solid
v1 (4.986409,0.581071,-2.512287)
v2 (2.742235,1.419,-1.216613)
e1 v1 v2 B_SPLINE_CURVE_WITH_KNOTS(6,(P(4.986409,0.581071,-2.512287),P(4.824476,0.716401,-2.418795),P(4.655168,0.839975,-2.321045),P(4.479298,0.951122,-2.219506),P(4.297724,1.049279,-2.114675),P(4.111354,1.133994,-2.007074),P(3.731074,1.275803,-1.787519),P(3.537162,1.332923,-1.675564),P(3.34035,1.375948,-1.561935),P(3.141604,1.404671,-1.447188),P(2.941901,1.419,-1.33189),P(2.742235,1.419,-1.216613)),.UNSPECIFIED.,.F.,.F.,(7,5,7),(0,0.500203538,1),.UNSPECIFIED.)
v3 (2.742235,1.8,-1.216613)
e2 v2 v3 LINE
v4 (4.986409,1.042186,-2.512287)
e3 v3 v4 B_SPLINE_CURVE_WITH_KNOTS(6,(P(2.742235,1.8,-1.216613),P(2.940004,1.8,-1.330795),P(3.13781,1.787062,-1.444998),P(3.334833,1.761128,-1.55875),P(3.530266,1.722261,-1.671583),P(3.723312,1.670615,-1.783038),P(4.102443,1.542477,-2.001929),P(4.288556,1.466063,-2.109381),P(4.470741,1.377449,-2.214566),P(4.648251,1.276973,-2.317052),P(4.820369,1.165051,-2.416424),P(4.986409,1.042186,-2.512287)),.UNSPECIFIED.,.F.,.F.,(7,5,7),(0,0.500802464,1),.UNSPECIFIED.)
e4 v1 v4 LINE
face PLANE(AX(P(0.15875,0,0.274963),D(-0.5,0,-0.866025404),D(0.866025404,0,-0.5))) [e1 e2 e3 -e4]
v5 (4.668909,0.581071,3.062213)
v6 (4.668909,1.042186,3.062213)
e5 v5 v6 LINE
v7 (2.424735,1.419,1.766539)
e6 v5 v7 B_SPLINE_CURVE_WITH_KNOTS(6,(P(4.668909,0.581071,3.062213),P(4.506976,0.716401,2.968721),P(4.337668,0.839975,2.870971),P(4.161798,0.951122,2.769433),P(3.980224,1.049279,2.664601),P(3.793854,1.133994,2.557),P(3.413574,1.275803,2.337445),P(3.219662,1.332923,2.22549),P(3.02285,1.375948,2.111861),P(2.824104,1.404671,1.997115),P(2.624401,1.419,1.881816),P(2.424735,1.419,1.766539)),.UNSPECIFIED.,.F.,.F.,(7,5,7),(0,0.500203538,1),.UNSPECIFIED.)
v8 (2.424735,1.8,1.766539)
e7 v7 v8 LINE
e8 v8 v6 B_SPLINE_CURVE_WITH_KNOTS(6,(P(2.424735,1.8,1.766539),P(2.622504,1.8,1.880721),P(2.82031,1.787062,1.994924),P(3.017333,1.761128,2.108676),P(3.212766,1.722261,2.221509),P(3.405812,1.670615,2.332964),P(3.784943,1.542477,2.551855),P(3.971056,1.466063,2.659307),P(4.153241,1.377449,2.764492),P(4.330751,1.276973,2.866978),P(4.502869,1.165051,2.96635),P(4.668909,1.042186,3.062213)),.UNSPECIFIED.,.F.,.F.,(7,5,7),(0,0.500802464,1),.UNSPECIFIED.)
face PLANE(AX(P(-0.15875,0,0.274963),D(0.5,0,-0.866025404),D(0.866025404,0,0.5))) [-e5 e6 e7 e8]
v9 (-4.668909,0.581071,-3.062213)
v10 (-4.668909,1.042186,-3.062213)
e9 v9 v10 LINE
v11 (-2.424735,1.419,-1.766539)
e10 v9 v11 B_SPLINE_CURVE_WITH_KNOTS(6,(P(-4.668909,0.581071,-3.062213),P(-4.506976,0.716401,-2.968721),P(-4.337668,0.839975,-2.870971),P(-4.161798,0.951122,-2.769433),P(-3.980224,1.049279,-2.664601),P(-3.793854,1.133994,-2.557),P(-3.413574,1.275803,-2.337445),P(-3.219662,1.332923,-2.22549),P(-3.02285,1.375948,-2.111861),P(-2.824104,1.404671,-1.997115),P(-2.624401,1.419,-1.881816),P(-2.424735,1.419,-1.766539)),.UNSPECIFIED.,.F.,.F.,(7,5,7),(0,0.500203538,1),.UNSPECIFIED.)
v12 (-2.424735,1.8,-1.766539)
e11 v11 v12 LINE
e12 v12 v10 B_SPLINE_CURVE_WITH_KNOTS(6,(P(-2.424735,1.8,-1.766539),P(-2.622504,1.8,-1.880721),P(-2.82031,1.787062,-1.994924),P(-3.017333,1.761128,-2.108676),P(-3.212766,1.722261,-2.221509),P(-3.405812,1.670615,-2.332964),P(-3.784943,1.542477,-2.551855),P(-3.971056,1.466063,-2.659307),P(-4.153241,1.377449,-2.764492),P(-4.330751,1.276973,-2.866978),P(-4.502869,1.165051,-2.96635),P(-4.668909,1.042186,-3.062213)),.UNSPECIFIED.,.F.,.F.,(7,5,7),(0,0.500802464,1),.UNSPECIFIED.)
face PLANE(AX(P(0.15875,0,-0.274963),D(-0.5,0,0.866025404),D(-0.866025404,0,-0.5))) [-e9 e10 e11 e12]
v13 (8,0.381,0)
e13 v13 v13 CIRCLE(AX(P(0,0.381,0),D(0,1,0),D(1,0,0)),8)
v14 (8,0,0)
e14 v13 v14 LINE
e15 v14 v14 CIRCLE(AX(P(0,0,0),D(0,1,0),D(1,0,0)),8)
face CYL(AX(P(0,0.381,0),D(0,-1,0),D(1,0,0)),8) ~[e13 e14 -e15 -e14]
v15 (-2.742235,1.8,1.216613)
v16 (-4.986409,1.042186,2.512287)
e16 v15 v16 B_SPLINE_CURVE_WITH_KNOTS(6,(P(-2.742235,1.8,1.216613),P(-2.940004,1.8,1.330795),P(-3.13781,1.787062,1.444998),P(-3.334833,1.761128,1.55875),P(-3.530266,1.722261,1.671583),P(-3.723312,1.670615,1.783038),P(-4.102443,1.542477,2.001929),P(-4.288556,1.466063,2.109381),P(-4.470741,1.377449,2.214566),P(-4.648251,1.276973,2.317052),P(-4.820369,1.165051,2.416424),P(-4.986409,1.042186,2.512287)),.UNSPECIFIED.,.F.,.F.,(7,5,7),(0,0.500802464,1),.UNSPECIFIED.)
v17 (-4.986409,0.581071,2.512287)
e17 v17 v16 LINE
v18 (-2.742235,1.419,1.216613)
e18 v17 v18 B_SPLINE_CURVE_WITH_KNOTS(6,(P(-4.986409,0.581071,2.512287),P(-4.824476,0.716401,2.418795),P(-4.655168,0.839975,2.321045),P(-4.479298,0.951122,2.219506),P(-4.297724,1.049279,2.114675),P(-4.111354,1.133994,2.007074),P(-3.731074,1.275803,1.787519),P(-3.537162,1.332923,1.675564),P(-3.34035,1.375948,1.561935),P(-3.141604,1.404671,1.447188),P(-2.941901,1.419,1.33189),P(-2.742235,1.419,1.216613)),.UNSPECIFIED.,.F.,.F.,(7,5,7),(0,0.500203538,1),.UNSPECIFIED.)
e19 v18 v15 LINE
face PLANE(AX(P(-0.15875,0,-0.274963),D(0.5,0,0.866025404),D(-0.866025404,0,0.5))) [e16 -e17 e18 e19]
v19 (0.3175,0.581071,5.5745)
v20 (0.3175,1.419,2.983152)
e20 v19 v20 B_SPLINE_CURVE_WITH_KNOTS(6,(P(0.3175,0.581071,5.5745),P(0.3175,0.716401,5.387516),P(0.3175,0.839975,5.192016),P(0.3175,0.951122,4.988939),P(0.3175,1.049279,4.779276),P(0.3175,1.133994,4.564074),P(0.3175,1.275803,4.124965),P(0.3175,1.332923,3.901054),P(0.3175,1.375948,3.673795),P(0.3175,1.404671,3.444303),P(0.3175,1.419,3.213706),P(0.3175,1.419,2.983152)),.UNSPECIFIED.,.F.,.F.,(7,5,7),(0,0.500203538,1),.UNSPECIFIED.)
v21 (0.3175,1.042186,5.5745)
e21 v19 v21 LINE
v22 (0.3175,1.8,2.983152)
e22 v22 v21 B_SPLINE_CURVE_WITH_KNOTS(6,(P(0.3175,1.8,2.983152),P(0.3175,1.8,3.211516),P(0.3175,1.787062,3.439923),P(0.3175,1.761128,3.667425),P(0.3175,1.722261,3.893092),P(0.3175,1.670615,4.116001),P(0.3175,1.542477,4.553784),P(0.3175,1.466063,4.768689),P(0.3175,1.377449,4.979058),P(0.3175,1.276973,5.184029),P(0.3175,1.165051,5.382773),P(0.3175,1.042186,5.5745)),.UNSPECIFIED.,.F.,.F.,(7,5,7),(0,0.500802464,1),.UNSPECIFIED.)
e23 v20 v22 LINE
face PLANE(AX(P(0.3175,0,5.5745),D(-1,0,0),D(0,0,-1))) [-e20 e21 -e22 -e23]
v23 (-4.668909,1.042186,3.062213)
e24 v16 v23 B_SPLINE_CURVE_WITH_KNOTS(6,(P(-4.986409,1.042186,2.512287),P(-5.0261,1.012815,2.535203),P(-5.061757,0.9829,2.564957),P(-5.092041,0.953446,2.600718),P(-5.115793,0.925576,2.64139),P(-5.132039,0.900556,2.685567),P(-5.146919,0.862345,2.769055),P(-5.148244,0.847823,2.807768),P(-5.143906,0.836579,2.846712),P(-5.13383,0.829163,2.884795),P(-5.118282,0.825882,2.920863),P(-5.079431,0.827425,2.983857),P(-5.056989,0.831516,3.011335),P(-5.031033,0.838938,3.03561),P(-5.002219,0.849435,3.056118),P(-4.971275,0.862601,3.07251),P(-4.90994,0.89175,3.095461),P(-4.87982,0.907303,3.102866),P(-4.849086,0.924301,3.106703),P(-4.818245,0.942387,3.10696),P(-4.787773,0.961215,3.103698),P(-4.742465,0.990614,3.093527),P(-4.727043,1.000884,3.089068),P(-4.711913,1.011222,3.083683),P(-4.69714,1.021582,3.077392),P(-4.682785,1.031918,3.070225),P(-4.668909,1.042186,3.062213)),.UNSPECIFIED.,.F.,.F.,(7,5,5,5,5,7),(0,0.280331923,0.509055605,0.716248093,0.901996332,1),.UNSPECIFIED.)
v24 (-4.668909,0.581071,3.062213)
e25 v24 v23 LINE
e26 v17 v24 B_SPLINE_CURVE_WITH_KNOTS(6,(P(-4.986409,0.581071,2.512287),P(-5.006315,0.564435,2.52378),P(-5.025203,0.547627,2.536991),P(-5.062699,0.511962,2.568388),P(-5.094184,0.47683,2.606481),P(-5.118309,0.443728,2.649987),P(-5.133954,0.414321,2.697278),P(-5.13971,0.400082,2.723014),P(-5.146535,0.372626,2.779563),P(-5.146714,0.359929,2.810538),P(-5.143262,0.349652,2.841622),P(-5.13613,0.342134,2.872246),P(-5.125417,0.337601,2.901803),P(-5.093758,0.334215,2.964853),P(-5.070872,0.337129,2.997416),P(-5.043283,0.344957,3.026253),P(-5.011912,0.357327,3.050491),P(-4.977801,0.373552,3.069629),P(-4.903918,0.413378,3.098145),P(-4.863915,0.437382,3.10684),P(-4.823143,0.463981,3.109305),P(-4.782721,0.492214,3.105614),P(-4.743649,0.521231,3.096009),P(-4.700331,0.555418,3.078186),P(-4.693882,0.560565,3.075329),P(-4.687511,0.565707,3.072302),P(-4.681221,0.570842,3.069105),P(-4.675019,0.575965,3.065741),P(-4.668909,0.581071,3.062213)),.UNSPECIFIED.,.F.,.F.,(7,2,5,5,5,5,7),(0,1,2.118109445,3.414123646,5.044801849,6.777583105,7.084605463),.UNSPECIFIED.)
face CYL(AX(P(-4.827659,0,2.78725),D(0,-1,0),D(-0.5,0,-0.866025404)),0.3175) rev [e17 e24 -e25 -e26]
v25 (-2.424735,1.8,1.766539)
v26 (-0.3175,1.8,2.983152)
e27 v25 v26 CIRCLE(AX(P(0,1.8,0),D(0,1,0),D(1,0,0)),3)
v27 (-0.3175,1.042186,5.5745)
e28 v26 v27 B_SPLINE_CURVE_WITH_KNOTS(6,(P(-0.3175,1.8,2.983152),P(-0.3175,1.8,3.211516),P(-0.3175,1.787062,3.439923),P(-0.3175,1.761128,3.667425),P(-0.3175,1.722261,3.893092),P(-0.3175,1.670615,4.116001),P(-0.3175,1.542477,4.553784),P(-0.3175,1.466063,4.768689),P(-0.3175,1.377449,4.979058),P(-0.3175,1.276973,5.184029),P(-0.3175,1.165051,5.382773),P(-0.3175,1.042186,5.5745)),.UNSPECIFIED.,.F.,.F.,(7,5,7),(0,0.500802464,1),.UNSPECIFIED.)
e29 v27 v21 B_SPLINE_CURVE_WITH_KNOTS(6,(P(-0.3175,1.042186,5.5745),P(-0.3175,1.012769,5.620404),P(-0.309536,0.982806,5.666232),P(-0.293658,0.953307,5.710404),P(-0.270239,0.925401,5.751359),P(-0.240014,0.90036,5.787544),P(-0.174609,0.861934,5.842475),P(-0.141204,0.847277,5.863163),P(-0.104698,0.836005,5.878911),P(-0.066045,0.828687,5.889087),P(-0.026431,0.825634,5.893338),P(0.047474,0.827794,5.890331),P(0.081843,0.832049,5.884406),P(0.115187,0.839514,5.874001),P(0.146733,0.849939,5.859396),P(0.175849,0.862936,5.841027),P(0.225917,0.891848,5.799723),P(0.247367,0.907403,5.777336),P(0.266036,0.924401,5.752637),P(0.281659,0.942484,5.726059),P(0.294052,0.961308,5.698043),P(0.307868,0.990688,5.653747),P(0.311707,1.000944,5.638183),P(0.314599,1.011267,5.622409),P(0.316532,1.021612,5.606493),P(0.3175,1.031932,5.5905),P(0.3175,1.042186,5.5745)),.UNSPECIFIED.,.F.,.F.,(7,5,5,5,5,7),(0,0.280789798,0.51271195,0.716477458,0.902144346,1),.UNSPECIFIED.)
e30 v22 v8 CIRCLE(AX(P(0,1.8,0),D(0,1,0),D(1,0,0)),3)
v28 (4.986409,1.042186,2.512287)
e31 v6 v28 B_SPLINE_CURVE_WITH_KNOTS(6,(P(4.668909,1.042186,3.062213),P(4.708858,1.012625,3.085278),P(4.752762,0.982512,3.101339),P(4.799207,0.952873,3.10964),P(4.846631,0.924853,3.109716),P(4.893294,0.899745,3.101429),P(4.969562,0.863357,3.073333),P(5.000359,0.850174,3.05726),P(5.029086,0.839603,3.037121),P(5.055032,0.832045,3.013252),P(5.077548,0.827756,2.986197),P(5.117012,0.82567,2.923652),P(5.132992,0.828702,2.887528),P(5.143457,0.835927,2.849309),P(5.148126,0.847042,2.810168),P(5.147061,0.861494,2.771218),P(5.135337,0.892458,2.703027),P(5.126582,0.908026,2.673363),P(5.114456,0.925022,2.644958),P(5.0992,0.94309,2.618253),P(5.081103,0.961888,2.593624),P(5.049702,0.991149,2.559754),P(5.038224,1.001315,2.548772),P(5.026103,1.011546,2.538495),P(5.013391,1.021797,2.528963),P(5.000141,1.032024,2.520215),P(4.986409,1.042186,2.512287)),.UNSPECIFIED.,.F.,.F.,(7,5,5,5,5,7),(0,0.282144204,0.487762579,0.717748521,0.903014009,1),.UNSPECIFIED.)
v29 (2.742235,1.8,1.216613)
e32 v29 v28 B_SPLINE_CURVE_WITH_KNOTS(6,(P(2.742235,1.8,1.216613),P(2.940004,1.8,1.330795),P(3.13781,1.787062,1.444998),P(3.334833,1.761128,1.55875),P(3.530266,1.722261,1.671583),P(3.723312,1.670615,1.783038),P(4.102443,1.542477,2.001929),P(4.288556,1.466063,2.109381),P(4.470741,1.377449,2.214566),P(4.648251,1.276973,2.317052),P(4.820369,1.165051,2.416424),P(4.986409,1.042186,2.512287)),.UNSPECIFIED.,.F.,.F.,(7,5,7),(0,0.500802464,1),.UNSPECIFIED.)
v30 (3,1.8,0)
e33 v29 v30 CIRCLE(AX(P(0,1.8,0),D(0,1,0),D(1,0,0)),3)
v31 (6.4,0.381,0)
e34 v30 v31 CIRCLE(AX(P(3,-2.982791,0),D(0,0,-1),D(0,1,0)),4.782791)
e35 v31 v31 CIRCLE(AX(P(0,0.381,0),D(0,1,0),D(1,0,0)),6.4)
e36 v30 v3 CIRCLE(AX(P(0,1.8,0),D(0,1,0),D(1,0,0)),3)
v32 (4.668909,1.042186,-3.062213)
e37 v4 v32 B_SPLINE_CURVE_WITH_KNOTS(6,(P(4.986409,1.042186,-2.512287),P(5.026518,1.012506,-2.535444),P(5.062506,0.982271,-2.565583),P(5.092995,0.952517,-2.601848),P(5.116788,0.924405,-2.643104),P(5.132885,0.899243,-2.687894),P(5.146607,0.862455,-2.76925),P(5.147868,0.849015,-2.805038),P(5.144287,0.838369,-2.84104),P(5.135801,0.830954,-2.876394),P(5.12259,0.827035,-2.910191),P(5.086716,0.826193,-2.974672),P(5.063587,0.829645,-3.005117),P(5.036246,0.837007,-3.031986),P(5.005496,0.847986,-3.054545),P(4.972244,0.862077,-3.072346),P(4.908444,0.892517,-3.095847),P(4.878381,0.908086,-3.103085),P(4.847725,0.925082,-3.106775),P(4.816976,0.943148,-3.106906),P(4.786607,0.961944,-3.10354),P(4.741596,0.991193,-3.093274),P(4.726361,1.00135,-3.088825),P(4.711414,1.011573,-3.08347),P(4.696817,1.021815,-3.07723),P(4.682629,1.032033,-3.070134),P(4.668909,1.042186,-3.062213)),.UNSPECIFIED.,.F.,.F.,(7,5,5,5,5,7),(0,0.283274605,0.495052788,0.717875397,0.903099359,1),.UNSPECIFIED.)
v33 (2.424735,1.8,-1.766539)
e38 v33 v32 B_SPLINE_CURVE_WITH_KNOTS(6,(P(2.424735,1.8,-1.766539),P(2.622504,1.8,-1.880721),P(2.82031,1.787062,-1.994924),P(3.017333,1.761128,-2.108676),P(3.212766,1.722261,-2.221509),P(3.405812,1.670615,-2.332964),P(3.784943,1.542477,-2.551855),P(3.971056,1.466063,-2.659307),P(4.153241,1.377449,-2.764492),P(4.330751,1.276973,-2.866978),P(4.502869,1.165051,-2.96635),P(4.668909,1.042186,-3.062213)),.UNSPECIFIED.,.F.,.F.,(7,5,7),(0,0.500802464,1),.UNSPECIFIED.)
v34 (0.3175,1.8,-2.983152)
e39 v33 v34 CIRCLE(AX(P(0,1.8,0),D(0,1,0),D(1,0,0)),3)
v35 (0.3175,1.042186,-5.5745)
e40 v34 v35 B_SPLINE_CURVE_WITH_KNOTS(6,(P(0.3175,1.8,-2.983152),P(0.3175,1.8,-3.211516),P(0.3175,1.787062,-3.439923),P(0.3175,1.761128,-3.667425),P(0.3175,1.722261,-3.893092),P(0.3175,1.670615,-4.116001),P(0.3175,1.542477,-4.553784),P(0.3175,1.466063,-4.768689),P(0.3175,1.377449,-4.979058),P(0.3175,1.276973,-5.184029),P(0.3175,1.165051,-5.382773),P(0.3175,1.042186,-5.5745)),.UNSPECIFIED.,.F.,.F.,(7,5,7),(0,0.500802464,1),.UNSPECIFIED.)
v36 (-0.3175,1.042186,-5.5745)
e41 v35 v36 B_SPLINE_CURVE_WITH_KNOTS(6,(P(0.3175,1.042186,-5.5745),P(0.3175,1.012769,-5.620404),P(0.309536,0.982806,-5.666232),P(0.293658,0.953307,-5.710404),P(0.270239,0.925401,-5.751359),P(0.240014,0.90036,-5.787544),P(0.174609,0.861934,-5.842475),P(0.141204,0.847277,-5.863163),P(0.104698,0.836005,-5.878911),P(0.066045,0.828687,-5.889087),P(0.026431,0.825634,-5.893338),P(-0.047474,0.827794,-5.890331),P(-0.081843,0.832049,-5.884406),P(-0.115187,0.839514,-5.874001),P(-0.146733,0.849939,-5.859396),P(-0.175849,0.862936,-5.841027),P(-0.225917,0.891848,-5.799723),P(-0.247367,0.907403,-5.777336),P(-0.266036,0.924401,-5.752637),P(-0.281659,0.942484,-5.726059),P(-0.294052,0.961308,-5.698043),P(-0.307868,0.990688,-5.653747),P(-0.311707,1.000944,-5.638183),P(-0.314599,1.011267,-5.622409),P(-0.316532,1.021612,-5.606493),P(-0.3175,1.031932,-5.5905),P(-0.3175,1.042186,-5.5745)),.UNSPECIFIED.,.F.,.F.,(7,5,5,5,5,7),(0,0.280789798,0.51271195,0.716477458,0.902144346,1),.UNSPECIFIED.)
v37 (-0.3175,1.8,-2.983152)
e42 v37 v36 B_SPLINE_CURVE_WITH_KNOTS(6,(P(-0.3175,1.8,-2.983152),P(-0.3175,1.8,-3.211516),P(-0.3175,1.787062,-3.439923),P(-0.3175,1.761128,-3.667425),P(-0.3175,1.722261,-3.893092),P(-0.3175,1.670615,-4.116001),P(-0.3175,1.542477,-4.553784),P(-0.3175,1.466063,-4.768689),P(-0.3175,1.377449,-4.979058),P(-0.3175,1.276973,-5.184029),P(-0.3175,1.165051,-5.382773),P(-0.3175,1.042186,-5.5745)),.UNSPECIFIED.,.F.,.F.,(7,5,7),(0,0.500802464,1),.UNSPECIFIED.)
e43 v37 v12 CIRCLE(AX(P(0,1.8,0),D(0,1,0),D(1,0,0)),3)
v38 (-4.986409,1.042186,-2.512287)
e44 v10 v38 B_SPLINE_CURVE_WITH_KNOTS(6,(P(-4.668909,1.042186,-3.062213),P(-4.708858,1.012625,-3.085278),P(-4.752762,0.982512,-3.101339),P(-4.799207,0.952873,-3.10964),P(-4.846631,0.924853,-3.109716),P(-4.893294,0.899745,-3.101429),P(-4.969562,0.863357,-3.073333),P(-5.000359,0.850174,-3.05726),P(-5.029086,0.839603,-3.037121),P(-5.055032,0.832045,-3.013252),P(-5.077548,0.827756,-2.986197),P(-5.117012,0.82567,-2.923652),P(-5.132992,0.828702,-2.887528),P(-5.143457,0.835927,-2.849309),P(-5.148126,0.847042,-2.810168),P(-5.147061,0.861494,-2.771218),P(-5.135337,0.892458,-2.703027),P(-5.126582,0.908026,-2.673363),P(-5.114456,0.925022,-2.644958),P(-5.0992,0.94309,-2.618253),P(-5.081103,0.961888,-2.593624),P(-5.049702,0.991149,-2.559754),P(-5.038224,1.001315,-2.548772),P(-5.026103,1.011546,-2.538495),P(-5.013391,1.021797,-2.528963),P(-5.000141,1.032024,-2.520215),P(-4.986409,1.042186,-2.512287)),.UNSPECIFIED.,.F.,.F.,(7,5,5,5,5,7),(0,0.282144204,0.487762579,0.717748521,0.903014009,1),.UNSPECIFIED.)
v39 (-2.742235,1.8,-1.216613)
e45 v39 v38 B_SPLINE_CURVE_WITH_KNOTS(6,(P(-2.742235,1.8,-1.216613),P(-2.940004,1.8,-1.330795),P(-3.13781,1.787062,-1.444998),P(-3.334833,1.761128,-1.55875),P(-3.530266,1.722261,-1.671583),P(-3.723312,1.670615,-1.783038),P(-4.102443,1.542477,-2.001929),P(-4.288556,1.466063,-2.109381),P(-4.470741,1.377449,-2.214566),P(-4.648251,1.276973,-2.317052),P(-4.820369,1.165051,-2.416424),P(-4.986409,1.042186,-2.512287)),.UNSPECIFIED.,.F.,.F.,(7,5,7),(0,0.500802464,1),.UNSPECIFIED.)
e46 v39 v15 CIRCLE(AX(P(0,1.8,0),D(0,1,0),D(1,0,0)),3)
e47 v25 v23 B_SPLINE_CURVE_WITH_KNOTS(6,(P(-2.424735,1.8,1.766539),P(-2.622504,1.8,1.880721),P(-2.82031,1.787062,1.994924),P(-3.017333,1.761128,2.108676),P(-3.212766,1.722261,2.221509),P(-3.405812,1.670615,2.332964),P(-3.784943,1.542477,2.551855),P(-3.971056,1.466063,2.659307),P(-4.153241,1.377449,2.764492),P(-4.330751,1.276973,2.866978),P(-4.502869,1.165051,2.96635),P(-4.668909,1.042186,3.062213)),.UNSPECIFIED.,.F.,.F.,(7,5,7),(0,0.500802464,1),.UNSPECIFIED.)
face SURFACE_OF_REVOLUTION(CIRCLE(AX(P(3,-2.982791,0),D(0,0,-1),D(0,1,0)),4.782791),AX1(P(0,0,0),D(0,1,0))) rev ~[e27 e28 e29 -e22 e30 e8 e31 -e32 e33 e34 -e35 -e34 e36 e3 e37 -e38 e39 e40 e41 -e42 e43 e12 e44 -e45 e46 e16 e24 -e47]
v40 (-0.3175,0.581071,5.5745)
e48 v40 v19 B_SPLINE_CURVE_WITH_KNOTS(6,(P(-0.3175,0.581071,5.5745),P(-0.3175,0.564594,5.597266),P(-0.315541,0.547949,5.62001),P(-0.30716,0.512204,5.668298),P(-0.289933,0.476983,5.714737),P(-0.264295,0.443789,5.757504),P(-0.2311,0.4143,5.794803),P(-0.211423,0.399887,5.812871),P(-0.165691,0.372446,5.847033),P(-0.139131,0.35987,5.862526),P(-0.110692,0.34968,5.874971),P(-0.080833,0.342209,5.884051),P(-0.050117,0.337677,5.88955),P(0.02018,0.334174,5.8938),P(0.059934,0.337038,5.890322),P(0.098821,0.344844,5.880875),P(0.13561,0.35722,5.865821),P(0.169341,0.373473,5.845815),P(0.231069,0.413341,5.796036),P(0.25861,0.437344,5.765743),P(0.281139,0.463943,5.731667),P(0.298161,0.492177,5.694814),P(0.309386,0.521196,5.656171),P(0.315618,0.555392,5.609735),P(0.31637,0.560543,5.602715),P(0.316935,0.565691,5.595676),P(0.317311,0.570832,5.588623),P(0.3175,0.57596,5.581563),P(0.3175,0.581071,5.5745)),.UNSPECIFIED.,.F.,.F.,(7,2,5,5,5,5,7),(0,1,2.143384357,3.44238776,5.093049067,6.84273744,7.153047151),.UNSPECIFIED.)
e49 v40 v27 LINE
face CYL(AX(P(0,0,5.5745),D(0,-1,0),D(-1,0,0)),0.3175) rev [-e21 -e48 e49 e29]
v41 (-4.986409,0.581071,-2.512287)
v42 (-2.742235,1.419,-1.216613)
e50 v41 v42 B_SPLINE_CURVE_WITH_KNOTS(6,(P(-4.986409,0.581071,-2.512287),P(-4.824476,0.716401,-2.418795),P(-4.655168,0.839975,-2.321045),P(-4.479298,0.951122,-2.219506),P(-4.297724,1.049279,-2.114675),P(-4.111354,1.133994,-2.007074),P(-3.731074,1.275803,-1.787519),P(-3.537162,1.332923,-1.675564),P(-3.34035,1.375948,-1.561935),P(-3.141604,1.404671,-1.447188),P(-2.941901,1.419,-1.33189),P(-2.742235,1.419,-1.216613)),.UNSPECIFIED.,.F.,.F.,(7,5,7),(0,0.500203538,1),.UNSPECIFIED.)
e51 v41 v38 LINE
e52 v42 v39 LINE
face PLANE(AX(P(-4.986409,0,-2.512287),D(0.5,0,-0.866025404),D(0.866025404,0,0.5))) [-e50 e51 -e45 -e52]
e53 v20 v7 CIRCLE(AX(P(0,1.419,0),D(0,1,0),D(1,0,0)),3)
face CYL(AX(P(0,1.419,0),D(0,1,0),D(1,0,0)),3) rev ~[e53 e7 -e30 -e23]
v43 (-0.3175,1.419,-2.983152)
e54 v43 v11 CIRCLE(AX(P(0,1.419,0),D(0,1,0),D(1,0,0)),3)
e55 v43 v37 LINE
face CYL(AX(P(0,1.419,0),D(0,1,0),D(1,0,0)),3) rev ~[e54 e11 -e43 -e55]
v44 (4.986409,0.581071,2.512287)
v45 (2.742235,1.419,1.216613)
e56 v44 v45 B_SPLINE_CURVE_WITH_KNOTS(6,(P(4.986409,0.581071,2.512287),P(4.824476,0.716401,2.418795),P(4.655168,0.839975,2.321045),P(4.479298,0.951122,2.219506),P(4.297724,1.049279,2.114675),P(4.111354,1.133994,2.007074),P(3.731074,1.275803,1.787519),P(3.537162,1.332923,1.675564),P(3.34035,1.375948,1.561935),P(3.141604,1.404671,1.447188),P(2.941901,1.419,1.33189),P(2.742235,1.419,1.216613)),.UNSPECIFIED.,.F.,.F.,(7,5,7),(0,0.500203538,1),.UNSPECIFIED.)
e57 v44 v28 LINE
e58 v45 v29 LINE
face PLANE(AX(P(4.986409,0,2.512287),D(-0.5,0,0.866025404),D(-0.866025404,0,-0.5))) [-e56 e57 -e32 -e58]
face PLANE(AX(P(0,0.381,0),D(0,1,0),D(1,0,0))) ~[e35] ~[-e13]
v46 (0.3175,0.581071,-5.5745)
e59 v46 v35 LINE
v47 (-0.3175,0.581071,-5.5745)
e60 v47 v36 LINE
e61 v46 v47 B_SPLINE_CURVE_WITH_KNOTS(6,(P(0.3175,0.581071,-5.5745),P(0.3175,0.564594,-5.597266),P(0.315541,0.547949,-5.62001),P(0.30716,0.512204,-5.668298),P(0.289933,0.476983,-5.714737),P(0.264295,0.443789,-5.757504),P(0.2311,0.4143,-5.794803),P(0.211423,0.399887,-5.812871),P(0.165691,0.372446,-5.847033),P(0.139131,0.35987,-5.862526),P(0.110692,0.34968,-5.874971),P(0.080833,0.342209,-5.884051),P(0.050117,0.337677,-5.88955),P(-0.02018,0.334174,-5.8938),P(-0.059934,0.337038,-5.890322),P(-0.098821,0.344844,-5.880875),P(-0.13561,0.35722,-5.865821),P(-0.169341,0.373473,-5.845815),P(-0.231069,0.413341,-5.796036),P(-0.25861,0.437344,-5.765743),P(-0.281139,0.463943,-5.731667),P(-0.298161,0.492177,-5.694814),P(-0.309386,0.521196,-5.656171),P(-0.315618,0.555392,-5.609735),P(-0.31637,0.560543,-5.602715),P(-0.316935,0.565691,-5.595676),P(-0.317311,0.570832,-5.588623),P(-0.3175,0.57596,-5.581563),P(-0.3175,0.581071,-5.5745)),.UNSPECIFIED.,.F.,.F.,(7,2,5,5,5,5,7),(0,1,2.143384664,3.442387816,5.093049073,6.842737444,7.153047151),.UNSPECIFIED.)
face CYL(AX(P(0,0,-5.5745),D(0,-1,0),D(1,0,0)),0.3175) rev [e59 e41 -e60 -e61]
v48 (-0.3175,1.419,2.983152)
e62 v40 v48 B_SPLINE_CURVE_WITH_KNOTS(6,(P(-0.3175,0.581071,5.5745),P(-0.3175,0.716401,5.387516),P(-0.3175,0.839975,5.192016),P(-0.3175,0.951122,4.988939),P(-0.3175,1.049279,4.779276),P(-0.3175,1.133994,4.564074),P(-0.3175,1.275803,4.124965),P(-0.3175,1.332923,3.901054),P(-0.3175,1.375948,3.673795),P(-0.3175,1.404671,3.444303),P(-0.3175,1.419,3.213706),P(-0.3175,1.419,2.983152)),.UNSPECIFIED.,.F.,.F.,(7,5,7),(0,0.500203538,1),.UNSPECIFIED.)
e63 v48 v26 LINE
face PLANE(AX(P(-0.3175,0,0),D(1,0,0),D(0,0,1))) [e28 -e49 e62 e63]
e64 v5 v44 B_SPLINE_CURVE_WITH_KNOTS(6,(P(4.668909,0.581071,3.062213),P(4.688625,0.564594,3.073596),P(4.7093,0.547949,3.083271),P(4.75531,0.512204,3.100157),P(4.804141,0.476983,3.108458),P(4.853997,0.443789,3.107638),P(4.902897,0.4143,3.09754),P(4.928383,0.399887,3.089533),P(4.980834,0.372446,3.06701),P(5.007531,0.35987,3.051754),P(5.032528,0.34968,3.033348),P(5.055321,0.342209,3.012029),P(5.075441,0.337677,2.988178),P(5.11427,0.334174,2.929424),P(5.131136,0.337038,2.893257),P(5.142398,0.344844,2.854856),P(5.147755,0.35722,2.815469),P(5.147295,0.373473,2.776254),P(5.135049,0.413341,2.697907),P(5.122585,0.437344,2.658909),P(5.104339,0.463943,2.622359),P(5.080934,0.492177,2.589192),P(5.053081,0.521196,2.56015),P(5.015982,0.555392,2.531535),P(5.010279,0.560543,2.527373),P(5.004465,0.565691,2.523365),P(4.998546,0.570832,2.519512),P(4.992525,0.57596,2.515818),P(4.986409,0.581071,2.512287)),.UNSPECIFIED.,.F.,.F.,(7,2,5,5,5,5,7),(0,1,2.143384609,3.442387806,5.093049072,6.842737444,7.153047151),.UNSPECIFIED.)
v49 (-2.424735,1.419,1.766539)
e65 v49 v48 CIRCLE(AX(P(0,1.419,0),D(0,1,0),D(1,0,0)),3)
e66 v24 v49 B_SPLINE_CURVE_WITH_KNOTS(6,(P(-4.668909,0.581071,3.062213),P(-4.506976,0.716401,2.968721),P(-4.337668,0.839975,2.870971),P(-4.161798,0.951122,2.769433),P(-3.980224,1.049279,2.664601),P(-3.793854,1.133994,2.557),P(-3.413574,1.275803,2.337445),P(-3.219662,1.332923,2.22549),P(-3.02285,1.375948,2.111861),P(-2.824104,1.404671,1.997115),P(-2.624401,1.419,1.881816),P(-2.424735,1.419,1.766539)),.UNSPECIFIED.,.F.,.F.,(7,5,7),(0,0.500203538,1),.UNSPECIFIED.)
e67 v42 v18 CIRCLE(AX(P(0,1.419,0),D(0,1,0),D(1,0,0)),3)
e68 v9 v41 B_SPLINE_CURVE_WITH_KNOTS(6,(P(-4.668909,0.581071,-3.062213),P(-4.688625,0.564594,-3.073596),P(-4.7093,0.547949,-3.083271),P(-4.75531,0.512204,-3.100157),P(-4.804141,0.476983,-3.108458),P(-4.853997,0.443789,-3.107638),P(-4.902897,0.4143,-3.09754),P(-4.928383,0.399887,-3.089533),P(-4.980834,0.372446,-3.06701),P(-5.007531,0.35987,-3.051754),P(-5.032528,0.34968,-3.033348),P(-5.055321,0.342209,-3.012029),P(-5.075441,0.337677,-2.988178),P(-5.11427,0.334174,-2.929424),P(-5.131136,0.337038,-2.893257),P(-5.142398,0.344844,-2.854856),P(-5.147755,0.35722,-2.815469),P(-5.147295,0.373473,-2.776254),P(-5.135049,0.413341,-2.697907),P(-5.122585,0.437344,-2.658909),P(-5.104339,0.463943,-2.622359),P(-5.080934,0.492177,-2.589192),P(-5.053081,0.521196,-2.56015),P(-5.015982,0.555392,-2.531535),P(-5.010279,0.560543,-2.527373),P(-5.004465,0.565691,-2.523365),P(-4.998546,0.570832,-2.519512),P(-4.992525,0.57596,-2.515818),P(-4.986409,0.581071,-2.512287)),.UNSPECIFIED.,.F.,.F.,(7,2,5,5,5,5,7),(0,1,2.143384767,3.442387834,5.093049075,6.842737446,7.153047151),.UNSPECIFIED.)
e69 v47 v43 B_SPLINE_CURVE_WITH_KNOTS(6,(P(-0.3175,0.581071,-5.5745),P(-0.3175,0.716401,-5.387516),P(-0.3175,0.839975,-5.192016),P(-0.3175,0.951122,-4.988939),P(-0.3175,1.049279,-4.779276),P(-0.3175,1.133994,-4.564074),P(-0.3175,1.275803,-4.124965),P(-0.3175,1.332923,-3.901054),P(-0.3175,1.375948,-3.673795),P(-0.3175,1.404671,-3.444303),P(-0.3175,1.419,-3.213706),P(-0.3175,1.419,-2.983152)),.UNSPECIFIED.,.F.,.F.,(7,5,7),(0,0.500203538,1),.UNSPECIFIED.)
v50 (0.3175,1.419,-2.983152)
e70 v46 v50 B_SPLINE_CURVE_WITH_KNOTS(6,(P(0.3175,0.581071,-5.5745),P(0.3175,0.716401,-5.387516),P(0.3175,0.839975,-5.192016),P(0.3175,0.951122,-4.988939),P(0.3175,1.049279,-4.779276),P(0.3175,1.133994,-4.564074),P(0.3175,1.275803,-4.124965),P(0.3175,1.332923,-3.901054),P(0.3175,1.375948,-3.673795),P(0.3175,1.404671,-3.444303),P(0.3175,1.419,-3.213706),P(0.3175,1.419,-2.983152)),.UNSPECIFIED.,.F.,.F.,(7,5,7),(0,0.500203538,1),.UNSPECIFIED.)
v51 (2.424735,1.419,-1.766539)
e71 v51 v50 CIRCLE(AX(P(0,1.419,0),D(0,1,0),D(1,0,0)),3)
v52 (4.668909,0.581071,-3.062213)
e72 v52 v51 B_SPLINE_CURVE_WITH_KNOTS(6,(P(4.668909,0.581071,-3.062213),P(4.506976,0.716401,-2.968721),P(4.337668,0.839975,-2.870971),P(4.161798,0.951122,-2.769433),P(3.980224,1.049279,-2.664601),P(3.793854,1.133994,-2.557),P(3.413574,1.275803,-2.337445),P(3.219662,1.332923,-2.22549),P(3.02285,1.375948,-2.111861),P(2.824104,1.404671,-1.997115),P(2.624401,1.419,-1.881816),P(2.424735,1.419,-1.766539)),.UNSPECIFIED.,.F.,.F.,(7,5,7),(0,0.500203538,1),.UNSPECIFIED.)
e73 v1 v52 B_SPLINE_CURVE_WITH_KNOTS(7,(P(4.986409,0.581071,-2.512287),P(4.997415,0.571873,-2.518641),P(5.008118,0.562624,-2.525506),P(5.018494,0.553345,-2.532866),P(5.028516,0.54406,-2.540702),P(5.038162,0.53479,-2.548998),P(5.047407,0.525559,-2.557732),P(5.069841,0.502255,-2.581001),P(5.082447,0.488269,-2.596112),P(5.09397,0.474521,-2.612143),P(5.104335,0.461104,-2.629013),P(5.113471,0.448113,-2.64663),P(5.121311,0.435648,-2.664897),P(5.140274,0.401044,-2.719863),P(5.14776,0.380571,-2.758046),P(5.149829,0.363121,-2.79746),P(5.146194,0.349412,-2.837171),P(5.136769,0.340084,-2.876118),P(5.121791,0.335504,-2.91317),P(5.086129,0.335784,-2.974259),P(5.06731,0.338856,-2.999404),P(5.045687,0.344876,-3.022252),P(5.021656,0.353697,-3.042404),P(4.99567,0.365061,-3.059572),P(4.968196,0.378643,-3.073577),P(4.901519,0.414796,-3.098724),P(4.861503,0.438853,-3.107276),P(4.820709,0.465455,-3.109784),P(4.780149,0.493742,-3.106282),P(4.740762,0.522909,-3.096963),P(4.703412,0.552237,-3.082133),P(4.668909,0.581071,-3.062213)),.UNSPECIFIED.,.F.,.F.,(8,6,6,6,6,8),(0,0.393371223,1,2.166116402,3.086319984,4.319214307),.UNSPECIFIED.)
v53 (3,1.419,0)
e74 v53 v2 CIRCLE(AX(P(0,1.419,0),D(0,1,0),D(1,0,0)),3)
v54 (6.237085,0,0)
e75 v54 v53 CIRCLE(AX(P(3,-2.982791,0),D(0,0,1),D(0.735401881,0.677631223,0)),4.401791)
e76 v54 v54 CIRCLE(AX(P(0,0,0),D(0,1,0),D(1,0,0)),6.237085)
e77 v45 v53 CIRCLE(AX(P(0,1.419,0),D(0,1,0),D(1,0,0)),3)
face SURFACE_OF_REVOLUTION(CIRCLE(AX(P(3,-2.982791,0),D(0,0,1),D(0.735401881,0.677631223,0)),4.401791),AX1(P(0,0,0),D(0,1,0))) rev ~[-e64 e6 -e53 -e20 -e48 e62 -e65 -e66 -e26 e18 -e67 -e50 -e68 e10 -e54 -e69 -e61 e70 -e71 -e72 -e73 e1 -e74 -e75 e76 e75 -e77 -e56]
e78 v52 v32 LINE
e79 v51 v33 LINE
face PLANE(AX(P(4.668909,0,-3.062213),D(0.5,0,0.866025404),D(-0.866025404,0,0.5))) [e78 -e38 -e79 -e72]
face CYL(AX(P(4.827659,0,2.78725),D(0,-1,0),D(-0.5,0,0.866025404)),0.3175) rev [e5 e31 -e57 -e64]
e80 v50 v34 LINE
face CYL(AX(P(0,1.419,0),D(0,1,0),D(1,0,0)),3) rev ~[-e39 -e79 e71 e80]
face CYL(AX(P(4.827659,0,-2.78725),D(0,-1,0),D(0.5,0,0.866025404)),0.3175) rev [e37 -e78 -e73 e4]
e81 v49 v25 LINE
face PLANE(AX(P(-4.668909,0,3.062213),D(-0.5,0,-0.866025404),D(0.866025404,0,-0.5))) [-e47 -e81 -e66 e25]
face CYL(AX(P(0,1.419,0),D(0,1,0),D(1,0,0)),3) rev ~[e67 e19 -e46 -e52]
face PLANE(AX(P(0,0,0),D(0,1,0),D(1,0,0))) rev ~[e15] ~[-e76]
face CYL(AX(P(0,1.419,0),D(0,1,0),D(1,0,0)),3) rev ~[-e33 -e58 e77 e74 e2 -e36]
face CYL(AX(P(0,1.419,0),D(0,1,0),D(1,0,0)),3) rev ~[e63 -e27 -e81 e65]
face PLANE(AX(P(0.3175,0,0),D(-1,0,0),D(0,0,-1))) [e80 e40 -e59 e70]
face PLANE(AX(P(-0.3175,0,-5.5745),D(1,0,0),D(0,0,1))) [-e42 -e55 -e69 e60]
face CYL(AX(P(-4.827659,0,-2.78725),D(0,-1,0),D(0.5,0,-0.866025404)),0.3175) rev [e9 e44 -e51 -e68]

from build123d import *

# Parameters (mm, degrees)
CUT_EXTRUDE1_DEPTH = 12.456002809
CIRPATTERN1_COUNT  = 6


with BuildPart() as part:
    # Sketch2 → Revolve1 (revolve)
    with BuildSketch(Plane.XY, mode=Mode.PRIVATE) as revolve1_sk:
        with BuildLine():
            Line((-8, 0), (-6.237085417, 0))
            ThreePointArc((-6.237085417, 0), (-4.767221194, 1.048671922), (-3, 1.419))
            Line((-3, 1.419), (-3, 1.8))
            ThreePointArc((-3, 1.8), (-4.842115699, 1.431016827), (-6.4, 0.381))
            Line((-6.4, 0.381), (-8, 0.381))
            Line((-8, 0.381), (-8, 0))
        make_face()
    revolve(revolve1_sk.sketch.rotate(Axis((0, 0, 0), (0, 1, 0)), 180), axis=Axis((0, 0, 0), (0, 1, 0)))

    # Sketch3 → Cut-Extrude1 (cut, through all)
    with BuildSketch(Plane(origin=(0, 0, 0), x_dir=(1, 0, 0), z_dir=(0, 1, 0))):
        with BuildLine():
            Line((-0.3175, 5.5745), (-0.3175, 0))
            Line((-0.3175, 0), (0.3175, 0))
            Line((0.3175, 0), (0.3175, 5.5745))
            ThreePointArc((0.3175, 5.5745), (0, 5.892), (-0.3175, 5.5745))
        make_face()
    cut_extrude1 = extrude(amount=CUT_EXTRUDE1_DEPTH, mode=Mode.SUBTRACT)

    # CirPattern1: Cut-Extrude1 ×6 about axis
    cirpattern1_axis = Axis((0, 0, 0), (0, 1, 0))
    for i in range(1, CIRPATTERN1_COUNT):
        add(cut_extrude1.rotate(cirpattern1_axis, i * 360 / CIRPATTERN1_COUNT), mode=Mode.SUBTRACT)


solid = part.part
